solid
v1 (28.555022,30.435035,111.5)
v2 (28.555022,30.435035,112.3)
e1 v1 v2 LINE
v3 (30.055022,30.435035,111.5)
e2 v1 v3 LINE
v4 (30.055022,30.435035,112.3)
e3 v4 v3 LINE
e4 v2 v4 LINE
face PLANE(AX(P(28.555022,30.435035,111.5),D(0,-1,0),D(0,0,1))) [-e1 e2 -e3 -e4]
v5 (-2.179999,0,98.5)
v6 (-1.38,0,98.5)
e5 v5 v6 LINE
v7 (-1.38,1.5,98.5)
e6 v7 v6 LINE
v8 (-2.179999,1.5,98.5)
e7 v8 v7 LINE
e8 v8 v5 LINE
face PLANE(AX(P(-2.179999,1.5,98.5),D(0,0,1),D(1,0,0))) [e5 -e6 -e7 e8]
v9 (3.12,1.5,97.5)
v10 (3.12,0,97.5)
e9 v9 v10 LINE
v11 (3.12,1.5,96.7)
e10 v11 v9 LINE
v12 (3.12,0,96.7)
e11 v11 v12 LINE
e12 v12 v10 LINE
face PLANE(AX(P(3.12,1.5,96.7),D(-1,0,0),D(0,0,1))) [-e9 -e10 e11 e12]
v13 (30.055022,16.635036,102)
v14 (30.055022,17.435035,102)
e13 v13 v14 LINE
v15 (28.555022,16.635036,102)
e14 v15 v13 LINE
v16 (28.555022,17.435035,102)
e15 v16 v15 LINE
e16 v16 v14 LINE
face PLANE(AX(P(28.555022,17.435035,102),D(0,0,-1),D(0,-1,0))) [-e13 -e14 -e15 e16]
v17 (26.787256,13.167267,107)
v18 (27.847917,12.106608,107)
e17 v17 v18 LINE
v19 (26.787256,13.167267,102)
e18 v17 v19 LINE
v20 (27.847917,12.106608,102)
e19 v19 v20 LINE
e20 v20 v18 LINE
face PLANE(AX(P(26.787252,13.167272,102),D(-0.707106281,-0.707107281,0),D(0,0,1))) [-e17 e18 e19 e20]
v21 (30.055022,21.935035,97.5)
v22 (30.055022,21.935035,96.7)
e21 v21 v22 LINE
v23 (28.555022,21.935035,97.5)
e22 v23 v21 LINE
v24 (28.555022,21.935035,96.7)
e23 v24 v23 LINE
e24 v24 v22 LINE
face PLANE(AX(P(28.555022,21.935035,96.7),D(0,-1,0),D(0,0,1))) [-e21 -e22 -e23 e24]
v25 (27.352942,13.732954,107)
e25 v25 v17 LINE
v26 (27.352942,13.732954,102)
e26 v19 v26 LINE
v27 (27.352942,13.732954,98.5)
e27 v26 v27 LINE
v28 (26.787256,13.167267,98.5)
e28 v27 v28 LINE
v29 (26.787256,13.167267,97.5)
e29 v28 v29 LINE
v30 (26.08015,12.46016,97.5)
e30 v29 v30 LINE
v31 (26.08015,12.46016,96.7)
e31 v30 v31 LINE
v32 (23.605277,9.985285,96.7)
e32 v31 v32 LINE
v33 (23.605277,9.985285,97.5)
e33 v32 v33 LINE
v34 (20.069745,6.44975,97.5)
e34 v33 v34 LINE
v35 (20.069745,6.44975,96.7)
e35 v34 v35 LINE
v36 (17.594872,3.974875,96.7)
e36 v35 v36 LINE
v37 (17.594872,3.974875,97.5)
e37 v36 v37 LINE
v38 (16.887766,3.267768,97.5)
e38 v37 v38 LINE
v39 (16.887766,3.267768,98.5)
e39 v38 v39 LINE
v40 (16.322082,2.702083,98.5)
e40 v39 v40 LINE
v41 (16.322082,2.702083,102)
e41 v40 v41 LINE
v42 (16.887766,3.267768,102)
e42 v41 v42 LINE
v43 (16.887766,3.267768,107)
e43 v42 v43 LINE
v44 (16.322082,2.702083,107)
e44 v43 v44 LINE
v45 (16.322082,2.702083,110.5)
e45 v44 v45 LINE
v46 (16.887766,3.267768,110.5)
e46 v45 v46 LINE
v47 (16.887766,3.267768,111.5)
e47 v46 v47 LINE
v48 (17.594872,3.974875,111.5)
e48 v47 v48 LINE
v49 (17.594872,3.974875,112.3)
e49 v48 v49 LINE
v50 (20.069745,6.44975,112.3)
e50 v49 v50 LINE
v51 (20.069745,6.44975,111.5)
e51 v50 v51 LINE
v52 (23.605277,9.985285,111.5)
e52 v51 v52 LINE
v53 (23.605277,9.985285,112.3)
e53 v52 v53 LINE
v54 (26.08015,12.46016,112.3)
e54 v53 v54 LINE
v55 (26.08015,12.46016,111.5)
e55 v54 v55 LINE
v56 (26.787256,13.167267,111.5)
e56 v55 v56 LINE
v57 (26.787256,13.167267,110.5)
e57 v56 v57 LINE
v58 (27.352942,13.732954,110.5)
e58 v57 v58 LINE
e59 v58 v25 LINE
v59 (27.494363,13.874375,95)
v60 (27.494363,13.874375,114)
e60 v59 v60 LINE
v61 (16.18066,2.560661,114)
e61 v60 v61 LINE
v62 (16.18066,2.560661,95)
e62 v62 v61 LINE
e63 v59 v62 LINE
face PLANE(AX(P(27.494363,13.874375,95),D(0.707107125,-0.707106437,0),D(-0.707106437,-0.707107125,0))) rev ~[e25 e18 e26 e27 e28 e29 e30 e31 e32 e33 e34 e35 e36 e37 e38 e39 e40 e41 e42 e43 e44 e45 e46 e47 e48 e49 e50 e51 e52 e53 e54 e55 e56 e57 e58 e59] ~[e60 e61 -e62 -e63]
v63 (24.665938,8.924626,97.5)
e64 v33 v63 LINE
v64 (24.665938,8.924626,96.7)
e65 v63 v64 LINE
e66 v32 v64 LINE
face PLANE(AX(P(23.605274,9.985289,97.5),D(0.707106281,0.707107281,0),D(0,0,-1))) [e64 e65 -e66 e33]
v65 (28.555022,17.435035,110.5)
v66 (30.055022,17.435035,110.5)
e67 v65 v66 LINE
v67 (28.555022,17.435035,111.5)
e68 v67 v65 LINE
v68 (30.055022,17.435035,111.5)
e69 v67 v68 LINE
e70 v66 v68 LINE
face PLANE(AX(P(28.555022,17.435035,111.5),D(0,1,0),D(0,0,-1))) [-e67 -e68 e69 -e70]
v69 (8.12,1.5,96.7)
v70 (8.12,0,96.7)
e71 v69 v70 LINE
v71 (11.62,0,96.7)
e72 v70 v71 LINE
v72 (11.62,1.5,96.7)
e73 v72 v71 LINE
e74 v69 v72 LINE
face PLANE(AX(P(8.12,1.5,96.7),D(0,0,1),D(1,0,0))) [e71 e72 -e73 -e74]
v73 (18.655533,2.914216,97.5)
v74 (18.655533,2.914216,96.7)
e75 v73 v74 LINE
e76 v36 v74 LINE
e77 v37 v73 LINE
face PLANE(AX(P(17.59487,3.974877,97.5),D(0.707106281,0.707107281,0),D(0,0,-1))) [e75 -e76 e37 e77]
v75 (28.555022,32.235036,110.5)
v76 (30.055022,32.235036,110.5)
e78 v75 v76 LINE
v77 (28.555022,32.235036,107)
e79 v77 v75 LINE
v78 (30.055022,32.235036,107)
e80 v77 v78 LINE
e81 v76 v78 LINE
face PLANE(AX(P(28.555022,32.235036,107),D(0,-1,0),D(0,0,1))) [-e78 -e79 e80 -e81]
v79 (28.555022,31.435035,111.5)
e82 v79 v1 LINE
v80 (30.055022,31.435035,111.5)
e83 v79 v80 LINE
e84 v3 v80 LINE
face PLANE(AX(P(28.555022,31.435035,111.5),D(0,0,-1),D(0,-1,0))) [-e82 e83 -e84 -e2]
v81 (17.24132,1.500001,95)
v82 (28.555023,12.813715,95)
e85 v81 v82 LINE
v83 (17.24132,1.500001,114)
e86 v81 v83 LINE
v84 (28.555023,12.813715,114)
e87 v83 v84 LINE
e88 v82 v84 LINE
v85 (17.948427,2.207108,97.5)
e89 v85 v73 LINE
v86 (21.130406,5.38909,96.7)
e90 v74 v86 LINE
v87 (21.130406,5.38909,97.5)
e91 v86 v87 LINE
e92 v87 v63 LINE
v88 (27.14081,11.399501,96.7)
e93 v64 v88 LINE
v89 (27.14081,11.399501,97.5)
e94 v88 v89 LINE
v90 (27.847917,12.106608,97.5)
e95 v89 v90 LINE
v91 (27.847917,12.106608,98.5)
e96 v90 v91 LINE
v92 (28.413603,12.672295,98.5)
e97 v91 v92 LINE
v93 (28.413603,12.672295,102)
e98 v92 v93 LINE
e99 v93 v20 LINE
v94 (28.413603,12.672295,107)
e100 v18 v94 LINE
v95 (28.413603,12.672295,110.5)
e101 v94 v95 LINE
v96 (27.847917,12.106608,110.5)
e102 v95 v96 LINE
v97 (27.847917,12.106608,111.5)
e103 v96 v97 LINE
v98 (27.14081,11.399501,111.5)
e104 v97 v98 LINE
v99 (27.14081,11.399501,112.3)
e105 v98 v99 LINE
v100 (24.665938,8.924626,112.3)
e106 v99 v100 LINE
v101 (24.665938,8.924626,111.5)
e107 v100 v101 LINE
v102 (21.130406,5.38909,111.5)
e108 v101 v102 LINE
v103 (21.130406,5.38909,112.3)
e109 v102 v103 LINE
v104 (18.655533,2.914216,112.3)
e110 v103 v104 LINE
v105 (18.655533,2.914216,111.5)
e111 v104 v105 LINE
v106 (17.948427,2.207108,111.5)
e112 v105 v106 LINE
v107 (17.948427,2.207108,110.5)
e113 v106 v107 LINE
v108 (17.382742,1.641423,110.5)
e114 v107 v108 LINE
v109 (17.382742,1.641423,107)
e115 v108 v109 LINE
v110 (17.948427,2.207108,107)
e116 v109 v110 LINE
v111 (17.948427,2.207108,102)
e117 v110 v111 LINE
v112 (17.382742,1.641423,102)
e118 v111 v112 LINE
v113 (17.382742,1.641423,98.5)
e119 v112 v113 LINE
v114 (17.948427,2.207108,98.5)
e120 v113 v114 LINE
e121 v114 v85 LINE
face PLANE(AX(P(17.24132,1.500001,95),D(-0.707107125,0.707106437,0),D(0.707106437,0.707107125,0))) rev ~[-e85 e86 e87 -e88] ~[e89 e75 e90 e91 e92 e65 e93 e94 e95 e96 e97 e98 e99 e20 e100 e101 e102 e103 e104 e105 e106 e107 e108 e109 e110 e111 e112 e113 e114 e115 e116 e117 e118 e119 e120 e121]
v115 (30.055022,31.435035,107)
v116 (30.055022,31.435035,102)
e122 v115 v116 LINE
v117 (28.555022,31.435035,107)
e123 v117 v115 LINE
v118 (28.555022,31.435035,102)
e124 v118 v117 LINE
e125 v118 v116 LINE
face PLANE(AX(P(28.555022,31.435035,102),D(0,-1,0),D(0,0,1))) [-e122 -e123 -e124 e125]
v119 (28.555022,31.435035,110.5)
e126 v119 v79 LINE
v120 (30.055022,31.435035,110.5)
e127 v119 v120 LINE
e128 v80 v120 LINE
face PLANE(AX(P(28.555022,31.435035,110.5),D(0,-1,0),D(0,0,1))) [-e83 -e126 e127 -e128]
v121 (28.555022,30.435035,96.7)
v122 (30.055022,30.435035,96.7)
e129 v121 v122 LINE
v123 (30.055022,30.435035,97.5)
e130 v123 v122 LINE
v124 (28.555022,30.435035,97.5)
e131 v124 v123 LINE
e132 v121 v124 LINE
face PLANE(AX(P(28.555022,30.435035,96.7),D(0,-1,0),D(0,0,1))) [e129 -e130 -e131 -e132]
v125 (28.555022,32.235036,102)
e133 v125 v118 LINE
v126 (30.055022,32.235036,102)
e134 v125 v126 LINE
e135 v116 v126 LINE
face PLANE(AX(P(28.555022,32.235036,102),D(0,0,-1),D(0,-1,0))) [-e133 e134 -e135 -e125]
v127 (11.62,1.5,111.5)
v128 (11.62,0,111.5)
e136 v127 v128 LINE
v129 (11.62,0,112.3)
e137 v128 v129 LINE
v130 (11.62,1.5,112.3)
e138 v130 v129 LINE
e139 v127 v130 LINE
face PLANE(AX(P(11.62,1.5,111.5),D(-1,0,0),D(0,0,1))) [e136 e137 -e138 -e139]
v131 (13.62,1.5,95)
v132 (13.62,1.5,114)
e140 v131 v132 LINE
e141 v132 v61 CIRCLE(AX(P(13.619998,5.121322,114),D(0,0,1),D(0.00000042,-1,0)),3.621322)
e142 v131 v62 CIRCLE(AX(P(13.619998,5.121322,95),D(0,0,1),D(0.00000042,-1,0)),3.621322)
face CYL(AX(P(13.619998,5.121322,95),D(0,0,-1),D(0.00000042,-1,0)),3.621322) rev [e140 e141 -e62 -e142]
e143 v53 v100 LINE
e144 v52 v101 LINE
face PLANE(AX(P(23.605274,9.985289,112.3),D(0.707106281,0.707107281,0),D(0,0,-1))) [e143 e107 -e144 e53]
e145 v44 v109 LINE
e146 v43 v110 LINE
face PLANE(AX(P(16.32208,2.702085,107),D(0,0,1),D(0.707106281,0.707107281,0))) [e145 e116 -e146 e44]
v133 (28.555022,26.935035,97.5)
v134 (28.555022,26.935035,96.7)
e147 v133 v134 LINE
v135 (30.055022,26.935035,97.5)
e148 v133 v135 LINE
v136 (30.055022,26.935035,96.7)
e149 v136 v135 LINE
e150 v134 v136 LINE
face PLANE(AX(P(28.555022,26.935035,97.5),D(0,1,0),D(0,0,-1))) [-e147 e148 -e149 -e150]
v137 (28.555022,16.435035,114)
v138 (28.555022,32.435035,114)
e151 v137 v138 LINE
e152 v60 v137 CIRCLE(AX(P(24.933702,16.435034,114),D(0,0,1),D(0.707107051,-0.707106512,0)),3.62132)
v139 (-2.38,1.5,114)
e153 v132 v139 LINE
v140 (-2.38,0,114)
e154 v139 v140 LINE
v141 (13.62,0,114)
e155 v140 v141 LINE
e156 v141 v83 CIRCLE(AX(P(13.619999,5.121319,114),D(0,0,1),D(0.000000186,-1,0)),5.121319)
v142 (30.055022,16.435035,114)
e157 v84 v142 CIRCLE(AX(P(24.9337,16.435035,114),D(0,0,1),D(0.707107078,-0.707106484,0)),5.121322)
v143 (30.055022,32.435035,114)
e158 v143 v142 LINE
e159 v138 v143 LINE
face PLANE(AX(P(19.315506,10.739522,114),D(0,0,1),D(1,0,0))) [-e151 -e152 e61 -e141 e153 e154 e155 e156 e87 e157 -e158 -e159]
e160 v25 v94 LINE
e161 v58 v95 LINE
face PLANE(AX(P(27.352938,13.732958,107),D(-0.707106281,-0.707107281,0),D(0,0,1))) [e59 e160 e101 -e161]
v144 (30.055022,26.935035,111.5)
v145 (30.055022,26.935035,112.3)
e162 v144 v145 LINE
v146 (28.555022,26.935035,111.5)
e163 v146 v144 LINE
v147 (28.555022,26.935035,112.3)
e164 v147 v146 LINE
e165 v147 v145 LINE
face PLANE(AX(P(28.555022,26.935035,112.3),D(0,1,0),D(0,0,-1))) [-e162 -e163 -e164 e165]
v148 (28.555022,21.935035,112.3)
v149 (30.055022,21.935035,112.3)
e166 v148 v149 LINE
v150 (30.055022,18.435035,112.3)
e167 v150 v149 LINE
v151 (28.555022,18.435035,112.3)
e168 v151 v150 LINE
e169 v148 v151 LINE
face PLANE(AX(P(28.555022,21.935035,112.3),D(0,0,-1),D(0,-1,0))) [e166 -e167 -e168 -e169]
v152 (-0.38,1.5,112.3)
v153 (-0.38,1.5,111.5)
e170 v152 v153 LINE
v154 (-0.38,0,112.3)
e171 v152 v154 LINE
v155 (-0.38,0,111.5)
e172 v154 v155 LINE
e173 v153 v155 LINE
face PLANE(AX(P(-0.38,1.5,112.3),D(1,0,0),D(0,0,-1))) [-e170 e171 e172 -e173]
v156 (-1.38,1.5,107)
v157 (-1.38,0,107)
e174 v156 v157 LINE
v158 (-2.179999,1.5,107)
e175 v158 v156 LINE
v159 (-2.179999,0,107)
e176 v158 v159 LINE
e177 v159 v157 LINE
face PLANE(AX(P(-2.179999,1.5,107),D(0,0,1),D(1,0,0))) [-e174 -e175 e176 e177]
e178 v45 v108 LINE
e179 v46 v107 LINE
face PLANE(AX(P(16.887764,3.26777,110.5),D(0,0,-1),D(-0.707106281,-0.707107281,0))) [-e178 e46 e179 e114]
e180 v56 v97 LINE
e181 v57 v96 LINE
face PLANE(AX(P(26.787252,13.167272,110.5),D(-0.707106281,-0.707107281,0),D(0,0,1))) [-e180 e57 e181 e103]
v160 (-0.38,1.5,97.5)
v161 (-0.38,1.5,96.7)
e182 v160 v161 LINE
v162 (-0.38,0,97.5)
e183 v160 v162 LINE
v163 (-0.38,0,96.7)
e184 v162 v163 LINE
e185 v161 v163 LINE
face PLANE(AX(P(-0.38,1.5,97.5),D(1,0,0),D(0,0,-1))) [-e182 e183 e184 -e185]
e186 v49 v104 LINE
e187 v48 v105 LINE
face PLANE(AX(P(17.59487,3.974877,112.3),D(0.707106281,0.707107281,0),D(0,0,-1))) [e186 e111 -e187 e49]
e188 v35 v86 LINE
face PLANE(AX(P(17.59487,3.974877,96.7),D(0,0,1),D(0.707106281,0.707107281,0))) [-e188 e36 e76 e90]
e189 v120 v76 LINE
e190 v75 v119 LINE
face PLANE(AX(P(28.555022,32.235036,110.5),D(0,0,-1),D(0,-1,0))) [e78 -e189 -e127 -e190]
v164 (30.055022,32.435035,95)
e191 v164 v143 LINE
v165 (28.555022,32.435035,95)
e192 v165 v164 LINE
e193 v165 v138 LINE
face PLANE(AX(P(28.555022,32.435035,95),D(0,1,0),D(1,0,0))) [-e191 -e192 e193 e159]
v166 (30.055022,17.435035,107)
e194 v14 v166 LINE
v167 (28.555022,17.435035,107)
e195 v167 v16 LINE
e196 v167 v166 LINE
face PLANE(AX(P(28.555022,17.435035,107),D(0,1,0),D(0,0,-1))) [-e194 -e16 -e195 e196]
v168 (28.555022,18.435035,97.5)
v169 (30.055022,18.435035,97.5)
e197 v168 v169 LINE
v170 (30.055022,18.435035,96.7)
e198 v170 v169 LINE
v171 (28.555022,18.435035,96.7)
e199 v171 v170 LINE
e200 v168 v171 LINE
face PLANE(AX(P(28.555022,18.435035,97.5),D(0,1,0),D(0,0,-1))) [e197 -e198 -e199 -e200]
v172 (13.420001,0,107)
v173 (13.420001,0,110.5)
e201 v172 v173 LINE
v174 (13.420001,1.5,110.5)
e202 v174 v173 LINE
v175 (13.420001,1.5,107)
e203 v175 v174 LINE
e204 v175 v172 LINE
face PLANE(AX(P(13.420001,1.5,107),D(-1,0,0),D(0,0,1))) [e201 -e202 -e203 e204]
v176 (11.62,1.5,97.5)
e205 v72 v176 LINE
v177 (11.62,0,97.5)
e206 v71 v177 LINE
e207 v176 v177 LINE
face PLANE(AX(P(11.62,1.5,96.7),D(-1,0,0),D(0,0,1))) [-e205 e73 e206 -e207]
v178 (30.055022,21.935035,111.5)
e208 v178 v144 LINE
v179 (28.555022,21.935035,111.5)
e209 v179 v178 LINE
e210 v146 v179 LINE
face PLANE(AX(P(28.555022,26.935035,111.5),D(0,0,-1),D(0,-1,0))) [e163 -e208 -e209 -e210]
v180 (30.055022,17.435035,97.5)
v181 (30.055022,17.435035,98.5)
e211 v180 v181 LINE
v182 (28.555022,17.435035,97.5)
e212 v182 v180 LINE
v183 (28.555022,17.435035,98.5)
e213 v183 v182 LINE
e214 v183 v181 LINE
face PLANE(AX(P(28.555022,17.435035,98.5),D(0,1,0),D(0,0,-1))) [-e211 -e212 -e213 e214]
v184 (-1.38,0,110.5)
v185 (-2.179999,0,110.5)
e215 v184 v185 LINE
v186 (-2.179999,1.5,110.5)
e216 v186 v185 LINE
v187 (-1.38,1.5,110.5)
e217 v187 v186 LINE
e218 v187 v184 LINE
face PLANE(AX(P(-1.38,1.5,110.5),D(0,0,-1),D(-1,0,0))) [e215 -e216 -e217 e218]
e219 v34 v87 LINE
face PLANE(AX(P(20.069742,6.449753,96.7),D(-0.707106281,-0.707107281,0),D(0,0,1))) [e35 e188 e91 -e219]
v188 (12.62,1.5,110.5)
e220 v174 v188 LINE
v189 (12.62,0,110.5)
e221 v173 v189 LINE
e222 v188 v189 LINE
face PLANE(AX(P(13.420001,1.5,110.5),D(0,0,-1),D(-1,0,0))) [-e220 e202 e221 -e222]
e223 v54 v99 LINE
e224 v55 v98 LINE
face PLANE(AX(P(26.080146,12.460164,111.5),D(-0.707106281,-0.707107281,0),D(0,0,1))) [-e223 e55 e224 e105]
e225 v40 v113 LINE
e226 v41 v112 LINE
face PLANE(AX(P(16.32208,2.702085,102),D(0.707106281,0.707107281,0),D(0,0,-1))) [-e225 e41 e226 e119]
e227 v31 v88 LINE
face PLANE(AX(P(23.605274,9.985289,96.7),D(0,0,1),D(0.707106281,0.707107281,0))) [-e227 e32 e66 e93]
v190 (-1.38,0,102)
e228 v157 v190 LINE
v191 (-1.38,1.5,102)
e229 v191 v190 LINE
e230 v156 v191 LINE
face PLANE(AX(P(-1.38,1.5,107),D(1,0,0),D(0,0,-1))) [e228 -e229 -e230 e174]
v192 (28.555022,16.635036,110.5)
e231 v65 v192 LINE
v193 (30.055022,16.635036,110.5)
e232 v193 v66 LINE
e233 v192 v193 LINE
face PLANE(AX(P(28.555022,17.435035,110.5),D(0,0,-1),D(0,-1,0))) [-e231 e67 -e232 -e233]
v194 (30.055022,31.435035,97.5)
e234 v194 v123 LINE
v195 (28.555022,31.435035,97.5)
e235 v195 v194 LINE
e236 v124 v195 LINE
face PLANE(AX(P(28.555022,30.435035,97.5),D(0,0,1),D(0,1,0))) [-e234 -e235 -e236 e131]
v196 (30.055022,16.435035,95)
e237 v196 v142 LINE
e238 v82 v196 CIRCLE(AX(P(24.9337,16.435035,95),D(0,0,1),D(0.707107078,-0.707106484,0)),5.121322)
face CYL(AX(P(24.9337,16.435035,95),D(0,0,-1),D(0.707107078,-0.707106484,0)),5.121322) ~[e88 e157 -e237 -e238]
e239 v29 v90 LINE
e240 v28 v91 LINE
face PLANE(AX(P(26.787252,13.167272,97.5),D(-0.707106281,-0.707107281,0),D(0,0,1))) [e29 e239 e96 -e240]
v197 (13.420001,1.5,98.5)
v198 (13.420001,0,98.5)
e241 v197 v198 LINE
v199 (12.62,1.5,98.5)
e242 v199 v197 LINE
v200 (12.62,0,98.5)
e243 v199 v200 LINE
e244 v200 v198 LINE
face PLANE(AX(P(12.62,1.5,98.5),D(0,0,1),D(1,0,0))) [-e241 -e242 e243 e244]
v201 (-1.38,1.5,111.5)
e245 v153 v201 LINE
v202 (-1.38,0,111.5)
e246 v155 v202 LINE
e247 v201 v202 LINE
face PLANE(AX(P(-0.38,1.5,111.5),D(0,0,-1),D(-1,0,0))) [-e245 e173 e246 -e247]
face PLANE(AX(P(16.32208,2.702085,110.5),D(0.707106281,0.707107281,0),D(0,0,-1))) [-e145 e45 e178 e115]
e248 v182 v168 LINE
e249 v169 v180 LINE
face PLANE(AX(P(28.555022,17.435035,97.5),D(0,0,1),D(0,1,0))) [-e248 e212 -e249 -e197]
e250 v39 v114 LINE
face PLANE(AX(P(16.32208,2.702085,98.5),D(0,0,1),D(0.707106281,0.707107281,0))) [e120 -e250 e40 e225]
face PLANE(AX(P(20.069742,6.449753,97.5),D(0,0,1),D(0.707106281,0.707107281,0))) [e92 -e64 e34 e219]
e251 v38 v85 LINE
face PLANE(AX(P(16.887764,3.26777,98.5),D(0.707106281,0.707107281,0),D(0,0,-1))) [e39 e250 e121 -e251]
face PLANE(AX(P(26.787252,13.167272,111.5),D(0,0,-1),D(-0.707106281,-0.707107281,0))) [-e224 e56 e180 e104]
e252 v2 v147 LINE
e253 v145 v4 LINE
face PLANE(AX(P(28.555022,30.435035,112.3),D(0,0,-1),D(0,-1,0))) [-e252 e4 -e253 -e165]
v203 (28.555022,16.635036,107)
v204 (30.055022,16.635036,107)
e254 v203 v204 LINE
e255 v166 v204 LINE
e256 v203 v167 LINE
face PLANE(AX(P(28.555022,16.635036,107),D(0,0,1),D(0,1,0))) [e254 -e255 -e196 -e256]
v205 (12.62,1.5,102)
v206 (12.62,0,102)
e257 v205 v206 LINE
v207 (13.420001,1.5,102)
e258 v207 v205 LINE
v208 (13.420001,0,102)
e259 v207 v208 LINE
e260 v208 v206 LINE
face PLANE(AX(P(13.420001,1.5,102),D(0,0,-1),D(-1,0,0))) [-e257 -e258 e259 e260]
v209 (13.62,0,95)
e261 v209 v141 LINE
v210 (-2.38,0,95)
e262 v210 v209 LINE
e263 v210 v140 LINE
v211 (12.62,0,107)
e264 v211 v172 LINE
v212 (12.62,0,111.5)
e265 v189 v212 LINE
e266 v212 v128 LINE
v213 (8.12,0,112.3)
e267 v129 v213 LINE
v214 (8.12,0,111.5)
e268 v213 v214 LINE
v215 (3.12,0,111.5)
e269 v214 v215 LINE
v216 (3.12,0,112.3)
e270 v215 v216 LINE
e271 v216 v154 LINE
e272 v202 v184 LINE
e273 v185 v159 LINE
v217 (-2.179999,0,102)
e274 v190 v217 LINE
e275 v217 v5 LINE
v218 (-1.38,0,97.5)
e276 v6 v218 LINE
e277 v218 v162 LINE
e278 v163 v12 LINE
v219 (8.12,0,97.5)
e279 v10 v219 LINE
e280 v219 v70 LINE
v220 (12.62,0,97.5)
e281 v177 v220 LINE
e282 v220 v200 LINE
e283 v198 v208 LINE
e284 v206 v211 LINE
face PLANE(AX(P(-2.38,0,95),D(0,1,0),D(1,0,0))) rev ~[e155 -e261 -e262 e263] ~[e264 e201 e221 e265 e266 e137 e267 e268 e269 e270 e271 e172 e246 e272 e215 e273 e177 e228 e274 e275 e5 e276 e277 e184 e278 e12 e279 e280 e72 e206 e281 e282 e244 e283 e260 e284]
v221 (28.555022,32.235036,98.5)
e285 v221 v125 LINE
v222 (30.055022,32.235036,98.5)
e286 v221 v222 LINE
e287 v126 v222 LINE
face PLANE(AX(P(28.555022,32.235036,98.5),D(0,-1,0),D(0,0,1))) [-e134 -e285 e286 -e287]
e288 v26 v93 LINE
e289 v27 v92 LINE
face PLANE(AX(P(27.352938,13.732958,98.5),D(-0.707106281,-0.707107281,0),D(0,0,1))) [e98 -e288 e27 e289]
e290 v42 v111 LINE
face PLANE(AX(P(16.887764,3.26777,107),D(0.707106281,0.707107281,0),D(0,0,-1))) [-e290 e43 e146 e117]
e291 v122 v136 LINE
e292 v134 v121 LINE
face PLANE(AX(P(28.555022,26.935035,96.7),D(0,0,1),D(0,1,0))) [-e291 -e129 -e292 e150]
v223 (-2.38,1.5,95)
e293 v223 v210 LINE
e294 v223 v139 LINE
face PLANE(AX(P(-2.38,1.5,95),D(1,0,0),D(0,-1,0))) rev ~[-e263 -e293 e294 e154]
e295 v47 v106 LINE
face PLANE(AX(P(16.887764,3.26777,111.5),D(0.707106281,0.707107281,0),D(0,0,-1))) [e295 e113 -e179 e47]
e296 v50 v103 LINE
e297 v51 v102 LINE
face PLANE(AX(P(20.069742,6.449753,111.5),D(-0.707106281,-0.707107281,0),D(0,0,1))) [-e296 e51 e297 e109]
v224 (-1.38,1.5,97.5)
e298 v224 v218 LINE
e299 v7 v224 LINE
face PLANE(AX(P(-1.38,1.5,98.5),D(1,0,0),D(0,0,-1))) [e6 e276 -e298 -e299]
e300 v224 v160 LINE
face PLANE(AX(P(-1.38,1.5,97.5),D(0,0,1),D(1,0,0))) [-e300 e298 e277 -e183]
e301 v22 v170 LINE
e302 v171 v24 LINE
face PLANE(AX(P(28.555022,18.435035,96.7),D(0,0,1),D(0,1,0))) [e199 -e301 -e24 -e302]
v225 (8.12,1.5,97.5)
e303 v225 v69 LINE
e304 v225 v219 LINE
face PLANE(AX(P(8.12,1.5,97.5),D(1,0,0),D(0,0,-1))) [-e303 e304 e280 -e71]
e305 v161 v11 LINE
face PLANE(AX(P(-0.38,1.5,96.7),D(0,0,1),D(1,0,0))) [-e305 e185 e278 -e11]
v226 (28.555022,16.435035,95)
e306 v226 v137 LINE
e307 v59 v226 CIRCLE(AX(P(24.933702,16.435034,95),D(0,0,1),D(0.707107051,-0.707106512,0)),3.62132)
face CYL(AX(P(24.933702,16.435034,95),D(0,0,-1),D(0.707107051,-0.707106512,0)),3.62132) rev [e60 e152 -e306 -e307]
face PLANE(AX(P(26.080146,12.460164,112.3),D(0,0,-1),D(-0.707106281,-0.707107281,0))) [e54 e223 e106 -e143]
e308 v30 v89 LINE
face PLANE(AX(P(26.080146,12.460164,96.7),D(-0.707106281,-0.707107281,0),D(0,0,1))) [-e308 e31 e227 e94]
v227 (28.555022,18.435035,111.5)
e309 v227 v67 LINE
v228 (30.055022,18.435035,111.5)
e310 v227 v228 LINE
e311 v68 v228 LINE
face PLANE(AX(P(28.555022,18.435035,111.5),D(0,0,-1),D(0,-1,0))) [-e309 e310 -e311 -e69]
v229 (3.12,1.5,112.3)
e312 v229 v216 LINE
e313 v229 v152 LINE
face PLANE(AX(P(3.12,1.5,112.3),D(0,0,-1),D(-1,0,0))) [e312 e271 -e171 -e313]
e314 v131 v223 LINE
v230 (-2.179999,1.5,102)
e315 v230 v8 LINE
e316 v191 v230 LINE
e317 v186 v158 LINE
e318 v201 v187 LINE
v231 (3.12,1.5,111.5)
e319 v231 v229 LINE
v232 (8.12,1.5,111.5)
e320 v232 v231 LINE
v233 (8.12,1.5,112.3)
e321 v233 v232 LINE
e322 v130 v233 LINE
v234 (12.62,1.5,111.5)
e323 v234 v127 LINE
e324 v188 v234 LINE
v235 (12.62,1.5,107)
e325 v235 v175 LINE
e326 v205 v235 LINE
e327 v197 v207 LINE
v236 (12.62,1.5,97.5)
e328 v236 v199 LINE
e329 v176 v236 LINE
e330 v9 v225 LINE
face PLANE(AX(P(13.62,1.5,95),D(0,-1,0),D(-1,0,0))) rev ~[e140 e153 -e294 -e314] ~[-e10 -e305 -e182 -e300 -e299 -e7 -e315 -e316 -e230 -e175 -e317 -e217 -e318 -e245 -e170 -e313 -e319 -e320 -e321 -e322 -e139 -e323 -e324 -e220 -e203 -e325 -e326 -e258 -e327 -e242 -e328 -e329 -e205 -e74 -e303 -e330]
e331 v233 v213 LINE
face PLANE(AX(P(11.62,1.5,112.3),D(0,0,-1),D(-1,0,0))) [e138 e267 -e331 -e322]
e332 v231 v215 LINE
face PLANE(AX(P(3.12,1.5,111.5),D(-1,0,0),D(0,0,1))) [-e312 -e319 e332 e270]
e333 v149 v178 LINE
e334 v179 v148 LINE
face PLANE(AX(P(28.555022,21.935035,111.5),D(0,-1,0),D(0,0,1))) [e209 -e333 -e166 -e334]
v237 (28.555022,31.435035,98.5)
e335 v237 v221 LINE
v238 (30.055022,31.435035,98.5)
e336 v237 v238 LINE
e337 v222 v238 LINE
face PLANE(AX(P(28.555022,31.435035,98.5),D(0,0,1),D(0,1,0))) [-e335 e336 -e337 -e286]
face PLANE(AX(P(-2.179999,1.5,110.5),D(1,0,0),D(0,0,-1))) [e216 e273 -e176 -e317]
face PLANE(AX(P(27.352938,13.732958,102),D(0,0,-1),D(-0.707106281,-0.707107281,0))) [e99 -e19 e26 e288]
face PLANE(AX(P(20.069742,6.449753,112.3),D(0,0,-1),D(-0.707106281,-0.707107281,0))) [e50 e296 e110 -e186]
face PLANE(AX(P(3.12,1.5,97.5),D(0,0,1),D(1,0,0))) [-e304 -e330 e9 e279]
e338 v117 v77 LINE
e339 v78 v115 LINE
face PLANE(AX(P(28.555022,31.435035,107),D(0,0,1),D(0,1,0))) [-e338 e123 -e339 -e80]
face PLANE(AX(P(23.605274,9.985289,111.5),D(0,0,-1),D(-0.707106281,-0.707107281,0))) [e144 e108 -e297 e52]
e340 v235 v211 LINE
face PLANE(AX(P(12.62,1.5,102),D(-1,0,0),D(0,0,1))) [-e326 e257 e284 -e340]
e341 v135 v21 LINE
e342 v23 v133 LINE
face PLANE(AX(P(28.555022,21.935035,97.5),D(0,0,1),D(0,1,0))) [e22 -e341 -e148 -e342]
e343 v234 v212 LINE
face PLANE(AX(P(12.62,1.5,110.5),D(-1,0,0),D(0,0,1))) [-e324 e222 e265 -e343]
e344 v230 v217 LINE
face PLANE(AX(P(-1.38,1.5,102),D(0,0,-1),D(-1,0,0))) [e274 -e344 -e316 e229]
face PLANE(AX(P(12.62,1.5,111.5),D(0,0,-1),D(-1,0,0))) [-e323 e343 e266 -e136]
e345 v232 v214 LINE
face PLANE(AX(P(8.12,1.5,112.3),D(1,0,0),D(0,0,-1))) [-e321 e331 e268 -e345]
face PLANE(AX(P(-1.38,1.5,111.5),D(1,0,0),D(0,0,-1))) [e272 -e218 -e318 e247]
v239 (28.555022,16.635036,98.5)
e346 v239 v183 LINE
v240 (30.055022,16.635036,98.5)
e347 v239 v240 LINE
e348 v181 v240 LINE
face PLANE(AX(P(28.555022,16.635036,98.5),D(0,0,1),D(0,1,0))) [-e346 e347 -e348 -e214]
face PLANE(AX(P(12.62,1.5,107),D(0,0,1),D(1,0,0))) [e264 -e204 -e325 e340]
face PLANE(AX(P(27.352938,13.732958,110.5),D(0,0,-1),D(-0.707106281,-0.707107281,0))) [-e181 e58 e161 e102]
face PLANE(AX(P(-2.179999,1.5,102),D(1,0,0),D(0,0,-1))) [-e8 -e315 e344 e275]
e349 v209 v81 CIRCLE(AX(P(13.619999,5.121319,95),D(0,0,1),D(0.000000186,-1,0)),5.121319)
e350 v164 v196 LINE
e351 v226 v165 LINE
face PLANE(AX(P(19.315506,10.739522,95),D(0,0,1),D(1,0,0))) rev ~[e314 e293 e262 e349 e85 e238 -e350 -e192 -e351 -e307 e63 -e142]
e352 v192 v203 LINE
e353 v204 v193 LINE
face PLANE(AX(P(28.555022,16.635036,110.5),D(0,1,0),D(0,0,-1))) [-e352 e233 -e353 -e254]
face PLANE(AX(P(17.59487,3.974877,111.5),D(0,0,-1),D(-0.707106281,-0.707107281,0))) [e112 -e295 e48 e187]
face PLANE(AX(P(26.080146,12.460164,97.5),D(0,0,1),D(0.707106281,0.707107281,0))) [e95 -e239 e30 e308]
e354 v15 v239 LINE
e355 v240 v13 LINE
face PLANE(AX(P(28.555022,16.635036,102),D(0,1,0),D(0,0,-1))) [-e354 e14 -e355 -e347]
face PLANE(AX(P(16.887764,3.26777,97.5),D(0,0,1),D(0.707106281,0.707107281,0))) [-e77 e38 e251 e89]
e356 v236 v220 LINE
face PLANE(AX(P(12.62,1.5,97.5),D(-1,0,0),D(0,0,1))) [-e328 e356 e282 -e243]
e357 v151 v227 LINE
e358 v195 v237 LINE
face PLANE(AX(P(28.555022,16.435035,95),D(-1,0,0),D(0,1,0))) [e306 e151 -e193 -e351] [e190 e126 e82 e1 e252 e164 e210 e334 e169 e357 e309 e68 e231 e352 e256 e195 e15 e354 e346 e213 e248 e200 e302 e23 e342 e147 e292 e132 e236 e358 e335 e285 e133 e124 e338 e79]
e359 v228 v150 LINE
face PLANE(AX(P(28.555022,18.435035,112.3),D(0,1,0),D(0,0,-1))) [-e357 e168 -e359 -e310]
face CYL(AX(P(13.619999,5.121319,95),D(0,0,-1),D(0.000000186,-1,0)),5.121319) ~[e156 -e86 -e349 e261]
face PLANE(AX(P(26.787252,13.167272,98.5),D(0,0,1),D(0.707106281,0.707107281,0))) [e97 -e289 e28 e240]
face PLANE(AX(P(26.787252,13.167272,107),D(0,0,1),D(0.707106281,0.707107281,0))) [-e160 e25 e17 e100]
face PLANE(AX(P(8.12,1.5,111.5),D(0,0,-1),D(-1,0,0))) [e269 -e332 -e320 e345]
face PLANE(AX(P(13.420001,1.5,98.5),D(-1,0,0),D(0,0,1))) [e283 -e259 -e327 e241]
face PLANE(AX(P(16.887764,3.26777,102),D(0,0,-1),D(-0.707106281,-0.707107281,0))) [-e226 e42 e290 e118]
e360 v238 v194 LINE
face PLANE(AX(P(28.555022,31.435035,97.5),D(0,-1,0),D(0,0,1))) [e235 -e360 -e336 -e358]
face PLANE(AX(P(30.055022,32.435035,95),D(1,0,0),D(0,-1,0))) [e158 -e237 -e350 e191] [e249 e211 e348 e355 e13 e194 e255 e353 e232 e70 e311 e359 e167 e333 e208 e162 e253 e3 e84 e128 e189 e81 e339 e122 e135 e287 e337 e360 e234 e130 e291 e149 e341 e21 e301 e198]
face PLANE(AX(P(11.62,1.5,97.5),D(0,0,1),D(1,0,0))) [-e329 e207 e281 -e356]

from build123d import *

# Parameters (mm, degrees)
PAD_DEPTH       = 19
POCKET_DEPTH    = 11.62232
POCKET002_DEPTH = 1.501
POCKET003_DEPTH = 1.501


with BuildPart() as part:
    # Sketch → Pad (new body)
    with BuildSketch(Plane.XY):
        with BuildLine():
            Line((0, 0), (16, 0))
            ThreePointArc((16, 0), (17.959845, 0.389838), (19.62132, 1.500001))
            Line((19.62132, 1.500001), (30.935023, 12.813715))
            ThreePointArc((30.935023, 12.813715), (32.045185, 14.475191), (32.435022, 16.435035))
            Line((32.435022, 32.435035), (32.435022, 16.435035))
            Line((30.935022, 32.435035), (32.435022, 32.435035))
            Line((30.935022, 16.435035), (30.935022, 32.435035))
            ThreePointArc((29.874363, 13.874375), (30.659366, 15.049216), (30.935022, 16.435035))
            Line((29.874363, 13.874375), (18.56066, 2.560661))
            ThreePointArc((16, 1.5), (17.385819, 1.775657), (18.56066, 2.560661))
            Line((16, 1.5), (0, 1.5))
            Line((0, 1.5), (0, 0))
        make_face()
    extrude(amount=PAD_DEPTH)

    # Sketch004 → Pocket (cut, through all)
    with BuildSketch(Plane(origin=(8.000009, -8.000001, 0), x_dir=(-0.707106, -0.707107, 0), z_dir=(-0.707107, 0.707106, 0))):
        Polygon((-28.935023, 17.3), (-25.435023, 17.3), (-25.435023, 16.5), (-20.435023, 16.5), (-20.435023, 17.3), (-16.935023, 17.3), (-16.935023, 16.5), (-15.935023, 16.5), (-15.935023, 15.5), (-15.135024, 15.5), (-15.135024, 12), (-15.935023, 12), (-15.935023, 7), (-15.135024, 7), (-15.135024, 3.5), (-15.935023, 3.5), (-15.935023, 2.5), (-16.935023, 2.5), (-16.935023, 1.7), (-20.435023, 1.7), (-20.435023, 2.5), (-25.435023, 2.5), (-25.435023, 1.7), (-28.935023, 1.7), (-28.935023, 2.5), (-29.935023, 2.5), (-29.935023, 3.5), (-30.735024, 3.5), (-30.735024, 7), (-29.935023, 7), (-29.935023, 12), (-30.735024, 12), (-30.735024, 15.5), (-29.935023, 15.5), (-29.935023, 16.5), (-28.935023, 16.5), align=None)
    extrude(amount=-POCKET_DEPTH, mode=Mode.SUBTRACT)

    # Sketch004001 → Pocket002 (cut, through all)
    with BuildSketch(Plane(origin=(30.935022, 0, 0), x_dir=(0, -1, 0), z_dir=(-1, 0, 0))):
        Polygon((-30.435035, 17.3), (-26.935035, 17.3), (-26.935035, 16.5), (-21.935035, 16.5), (-21.935035, 17.3), (-18.435035, 17.3), (-18.435035, 16.5), (-17.435035, 16.5), (-17.435035, 15.5), (-16.635036, 15.5), (-16.635036, 12), (-17.435035, 12), (-17.435035, 7), (-16.635036, 7), (-16.635036, 3.5), (-17.435035, 3.5), (-17.435035, 2.5), (-18.435035, 2.5), (-18.435035, 1.7), (-21.935035, 1.7), (-21.935035, 2.5), (-26.935035, 2.5), (-26.935035, 1.7), (-30.435035, 1.7), (-30.435035, 2.5), (-31.435035, 2.5), (-31.435035, 3.5), (-32.235036, 3.5), (-32.235036, 7), (-31.435035, 7), (-31.435035, 12), (-32.235036, 12), (-32.235036, 15.5), (-31.435035, 15.5), (-31.435035, 16.5), (-30.435035, 16.5), align=None)
    extrude(amount=-POCKET002_DEPTH, mode=Mode.SUBTRACT)

    # Sketch004001001 → Pocket003 (cut, through all)
    with BuildSketch(Plane(origin=(0, 1.5, 0), x_dir=(-1, 0, 0), z_dir=(0, 1, 0))):
        Polygon((-14, 17.3), (-10.5, 17.3), (-10.5, 16.5), (-5.5, 16.5), (-5.5, 17.3), (-2, 17.3), (-2, 16.5), (-1, 16.5), (-1, 15.5), (-0.200001, 15.5), (-0.200001, 12), (-1, 12), (-1, 7), (-0.200001, 7), (-0.200001, 3.5), (-1, 3.5), (-1, 2.5), (-2, 2.5), (-2, 1.7), (-5.5, 1.7), (-5.5, 2.5), (-10.5, 2.5), (-10.5, 1.7), (-14, 1.7), (-14, 2.5), (-15, 2.5), (-15, 3.5), (-15.800001, 3.5), (-15.800001, 7), (-15, 7), (-15, 12), (-15.800001, 12), (-15.800001, 15.5), (-15, 15.5), (-15, 16.5), (-14, 16.5), align=None)
    extrude(amount=-POCKET003_DEPTH, mode=Mode.SUBTRACT)


with BuildPart() as part_1:
    # Clone placement: moved
    add(part.part.moved(Location((2.38, -2.38, 19))))


with BuildPart() as part_2:
    # Clone001 placement: moved
    add(part_1.part.moved(Location((4.75, 4.76, 19))))


with BuildPart() as part_3:
    # Clone002 placement: moved
    add(part_2.part.moved(Location((-2.38, -2.38, 19))))


with BuildPart() as part_4:
    # Clone003 placement: moved
    add(part_3.part.moved(Location((-4.75, -2.38, 19))))


with BuildPart() as part_5:
    # Clone004 placement: moved
    add(part_4.part.moved(Location((-2.38, 2.38, 19))))


solid = part_5.part
